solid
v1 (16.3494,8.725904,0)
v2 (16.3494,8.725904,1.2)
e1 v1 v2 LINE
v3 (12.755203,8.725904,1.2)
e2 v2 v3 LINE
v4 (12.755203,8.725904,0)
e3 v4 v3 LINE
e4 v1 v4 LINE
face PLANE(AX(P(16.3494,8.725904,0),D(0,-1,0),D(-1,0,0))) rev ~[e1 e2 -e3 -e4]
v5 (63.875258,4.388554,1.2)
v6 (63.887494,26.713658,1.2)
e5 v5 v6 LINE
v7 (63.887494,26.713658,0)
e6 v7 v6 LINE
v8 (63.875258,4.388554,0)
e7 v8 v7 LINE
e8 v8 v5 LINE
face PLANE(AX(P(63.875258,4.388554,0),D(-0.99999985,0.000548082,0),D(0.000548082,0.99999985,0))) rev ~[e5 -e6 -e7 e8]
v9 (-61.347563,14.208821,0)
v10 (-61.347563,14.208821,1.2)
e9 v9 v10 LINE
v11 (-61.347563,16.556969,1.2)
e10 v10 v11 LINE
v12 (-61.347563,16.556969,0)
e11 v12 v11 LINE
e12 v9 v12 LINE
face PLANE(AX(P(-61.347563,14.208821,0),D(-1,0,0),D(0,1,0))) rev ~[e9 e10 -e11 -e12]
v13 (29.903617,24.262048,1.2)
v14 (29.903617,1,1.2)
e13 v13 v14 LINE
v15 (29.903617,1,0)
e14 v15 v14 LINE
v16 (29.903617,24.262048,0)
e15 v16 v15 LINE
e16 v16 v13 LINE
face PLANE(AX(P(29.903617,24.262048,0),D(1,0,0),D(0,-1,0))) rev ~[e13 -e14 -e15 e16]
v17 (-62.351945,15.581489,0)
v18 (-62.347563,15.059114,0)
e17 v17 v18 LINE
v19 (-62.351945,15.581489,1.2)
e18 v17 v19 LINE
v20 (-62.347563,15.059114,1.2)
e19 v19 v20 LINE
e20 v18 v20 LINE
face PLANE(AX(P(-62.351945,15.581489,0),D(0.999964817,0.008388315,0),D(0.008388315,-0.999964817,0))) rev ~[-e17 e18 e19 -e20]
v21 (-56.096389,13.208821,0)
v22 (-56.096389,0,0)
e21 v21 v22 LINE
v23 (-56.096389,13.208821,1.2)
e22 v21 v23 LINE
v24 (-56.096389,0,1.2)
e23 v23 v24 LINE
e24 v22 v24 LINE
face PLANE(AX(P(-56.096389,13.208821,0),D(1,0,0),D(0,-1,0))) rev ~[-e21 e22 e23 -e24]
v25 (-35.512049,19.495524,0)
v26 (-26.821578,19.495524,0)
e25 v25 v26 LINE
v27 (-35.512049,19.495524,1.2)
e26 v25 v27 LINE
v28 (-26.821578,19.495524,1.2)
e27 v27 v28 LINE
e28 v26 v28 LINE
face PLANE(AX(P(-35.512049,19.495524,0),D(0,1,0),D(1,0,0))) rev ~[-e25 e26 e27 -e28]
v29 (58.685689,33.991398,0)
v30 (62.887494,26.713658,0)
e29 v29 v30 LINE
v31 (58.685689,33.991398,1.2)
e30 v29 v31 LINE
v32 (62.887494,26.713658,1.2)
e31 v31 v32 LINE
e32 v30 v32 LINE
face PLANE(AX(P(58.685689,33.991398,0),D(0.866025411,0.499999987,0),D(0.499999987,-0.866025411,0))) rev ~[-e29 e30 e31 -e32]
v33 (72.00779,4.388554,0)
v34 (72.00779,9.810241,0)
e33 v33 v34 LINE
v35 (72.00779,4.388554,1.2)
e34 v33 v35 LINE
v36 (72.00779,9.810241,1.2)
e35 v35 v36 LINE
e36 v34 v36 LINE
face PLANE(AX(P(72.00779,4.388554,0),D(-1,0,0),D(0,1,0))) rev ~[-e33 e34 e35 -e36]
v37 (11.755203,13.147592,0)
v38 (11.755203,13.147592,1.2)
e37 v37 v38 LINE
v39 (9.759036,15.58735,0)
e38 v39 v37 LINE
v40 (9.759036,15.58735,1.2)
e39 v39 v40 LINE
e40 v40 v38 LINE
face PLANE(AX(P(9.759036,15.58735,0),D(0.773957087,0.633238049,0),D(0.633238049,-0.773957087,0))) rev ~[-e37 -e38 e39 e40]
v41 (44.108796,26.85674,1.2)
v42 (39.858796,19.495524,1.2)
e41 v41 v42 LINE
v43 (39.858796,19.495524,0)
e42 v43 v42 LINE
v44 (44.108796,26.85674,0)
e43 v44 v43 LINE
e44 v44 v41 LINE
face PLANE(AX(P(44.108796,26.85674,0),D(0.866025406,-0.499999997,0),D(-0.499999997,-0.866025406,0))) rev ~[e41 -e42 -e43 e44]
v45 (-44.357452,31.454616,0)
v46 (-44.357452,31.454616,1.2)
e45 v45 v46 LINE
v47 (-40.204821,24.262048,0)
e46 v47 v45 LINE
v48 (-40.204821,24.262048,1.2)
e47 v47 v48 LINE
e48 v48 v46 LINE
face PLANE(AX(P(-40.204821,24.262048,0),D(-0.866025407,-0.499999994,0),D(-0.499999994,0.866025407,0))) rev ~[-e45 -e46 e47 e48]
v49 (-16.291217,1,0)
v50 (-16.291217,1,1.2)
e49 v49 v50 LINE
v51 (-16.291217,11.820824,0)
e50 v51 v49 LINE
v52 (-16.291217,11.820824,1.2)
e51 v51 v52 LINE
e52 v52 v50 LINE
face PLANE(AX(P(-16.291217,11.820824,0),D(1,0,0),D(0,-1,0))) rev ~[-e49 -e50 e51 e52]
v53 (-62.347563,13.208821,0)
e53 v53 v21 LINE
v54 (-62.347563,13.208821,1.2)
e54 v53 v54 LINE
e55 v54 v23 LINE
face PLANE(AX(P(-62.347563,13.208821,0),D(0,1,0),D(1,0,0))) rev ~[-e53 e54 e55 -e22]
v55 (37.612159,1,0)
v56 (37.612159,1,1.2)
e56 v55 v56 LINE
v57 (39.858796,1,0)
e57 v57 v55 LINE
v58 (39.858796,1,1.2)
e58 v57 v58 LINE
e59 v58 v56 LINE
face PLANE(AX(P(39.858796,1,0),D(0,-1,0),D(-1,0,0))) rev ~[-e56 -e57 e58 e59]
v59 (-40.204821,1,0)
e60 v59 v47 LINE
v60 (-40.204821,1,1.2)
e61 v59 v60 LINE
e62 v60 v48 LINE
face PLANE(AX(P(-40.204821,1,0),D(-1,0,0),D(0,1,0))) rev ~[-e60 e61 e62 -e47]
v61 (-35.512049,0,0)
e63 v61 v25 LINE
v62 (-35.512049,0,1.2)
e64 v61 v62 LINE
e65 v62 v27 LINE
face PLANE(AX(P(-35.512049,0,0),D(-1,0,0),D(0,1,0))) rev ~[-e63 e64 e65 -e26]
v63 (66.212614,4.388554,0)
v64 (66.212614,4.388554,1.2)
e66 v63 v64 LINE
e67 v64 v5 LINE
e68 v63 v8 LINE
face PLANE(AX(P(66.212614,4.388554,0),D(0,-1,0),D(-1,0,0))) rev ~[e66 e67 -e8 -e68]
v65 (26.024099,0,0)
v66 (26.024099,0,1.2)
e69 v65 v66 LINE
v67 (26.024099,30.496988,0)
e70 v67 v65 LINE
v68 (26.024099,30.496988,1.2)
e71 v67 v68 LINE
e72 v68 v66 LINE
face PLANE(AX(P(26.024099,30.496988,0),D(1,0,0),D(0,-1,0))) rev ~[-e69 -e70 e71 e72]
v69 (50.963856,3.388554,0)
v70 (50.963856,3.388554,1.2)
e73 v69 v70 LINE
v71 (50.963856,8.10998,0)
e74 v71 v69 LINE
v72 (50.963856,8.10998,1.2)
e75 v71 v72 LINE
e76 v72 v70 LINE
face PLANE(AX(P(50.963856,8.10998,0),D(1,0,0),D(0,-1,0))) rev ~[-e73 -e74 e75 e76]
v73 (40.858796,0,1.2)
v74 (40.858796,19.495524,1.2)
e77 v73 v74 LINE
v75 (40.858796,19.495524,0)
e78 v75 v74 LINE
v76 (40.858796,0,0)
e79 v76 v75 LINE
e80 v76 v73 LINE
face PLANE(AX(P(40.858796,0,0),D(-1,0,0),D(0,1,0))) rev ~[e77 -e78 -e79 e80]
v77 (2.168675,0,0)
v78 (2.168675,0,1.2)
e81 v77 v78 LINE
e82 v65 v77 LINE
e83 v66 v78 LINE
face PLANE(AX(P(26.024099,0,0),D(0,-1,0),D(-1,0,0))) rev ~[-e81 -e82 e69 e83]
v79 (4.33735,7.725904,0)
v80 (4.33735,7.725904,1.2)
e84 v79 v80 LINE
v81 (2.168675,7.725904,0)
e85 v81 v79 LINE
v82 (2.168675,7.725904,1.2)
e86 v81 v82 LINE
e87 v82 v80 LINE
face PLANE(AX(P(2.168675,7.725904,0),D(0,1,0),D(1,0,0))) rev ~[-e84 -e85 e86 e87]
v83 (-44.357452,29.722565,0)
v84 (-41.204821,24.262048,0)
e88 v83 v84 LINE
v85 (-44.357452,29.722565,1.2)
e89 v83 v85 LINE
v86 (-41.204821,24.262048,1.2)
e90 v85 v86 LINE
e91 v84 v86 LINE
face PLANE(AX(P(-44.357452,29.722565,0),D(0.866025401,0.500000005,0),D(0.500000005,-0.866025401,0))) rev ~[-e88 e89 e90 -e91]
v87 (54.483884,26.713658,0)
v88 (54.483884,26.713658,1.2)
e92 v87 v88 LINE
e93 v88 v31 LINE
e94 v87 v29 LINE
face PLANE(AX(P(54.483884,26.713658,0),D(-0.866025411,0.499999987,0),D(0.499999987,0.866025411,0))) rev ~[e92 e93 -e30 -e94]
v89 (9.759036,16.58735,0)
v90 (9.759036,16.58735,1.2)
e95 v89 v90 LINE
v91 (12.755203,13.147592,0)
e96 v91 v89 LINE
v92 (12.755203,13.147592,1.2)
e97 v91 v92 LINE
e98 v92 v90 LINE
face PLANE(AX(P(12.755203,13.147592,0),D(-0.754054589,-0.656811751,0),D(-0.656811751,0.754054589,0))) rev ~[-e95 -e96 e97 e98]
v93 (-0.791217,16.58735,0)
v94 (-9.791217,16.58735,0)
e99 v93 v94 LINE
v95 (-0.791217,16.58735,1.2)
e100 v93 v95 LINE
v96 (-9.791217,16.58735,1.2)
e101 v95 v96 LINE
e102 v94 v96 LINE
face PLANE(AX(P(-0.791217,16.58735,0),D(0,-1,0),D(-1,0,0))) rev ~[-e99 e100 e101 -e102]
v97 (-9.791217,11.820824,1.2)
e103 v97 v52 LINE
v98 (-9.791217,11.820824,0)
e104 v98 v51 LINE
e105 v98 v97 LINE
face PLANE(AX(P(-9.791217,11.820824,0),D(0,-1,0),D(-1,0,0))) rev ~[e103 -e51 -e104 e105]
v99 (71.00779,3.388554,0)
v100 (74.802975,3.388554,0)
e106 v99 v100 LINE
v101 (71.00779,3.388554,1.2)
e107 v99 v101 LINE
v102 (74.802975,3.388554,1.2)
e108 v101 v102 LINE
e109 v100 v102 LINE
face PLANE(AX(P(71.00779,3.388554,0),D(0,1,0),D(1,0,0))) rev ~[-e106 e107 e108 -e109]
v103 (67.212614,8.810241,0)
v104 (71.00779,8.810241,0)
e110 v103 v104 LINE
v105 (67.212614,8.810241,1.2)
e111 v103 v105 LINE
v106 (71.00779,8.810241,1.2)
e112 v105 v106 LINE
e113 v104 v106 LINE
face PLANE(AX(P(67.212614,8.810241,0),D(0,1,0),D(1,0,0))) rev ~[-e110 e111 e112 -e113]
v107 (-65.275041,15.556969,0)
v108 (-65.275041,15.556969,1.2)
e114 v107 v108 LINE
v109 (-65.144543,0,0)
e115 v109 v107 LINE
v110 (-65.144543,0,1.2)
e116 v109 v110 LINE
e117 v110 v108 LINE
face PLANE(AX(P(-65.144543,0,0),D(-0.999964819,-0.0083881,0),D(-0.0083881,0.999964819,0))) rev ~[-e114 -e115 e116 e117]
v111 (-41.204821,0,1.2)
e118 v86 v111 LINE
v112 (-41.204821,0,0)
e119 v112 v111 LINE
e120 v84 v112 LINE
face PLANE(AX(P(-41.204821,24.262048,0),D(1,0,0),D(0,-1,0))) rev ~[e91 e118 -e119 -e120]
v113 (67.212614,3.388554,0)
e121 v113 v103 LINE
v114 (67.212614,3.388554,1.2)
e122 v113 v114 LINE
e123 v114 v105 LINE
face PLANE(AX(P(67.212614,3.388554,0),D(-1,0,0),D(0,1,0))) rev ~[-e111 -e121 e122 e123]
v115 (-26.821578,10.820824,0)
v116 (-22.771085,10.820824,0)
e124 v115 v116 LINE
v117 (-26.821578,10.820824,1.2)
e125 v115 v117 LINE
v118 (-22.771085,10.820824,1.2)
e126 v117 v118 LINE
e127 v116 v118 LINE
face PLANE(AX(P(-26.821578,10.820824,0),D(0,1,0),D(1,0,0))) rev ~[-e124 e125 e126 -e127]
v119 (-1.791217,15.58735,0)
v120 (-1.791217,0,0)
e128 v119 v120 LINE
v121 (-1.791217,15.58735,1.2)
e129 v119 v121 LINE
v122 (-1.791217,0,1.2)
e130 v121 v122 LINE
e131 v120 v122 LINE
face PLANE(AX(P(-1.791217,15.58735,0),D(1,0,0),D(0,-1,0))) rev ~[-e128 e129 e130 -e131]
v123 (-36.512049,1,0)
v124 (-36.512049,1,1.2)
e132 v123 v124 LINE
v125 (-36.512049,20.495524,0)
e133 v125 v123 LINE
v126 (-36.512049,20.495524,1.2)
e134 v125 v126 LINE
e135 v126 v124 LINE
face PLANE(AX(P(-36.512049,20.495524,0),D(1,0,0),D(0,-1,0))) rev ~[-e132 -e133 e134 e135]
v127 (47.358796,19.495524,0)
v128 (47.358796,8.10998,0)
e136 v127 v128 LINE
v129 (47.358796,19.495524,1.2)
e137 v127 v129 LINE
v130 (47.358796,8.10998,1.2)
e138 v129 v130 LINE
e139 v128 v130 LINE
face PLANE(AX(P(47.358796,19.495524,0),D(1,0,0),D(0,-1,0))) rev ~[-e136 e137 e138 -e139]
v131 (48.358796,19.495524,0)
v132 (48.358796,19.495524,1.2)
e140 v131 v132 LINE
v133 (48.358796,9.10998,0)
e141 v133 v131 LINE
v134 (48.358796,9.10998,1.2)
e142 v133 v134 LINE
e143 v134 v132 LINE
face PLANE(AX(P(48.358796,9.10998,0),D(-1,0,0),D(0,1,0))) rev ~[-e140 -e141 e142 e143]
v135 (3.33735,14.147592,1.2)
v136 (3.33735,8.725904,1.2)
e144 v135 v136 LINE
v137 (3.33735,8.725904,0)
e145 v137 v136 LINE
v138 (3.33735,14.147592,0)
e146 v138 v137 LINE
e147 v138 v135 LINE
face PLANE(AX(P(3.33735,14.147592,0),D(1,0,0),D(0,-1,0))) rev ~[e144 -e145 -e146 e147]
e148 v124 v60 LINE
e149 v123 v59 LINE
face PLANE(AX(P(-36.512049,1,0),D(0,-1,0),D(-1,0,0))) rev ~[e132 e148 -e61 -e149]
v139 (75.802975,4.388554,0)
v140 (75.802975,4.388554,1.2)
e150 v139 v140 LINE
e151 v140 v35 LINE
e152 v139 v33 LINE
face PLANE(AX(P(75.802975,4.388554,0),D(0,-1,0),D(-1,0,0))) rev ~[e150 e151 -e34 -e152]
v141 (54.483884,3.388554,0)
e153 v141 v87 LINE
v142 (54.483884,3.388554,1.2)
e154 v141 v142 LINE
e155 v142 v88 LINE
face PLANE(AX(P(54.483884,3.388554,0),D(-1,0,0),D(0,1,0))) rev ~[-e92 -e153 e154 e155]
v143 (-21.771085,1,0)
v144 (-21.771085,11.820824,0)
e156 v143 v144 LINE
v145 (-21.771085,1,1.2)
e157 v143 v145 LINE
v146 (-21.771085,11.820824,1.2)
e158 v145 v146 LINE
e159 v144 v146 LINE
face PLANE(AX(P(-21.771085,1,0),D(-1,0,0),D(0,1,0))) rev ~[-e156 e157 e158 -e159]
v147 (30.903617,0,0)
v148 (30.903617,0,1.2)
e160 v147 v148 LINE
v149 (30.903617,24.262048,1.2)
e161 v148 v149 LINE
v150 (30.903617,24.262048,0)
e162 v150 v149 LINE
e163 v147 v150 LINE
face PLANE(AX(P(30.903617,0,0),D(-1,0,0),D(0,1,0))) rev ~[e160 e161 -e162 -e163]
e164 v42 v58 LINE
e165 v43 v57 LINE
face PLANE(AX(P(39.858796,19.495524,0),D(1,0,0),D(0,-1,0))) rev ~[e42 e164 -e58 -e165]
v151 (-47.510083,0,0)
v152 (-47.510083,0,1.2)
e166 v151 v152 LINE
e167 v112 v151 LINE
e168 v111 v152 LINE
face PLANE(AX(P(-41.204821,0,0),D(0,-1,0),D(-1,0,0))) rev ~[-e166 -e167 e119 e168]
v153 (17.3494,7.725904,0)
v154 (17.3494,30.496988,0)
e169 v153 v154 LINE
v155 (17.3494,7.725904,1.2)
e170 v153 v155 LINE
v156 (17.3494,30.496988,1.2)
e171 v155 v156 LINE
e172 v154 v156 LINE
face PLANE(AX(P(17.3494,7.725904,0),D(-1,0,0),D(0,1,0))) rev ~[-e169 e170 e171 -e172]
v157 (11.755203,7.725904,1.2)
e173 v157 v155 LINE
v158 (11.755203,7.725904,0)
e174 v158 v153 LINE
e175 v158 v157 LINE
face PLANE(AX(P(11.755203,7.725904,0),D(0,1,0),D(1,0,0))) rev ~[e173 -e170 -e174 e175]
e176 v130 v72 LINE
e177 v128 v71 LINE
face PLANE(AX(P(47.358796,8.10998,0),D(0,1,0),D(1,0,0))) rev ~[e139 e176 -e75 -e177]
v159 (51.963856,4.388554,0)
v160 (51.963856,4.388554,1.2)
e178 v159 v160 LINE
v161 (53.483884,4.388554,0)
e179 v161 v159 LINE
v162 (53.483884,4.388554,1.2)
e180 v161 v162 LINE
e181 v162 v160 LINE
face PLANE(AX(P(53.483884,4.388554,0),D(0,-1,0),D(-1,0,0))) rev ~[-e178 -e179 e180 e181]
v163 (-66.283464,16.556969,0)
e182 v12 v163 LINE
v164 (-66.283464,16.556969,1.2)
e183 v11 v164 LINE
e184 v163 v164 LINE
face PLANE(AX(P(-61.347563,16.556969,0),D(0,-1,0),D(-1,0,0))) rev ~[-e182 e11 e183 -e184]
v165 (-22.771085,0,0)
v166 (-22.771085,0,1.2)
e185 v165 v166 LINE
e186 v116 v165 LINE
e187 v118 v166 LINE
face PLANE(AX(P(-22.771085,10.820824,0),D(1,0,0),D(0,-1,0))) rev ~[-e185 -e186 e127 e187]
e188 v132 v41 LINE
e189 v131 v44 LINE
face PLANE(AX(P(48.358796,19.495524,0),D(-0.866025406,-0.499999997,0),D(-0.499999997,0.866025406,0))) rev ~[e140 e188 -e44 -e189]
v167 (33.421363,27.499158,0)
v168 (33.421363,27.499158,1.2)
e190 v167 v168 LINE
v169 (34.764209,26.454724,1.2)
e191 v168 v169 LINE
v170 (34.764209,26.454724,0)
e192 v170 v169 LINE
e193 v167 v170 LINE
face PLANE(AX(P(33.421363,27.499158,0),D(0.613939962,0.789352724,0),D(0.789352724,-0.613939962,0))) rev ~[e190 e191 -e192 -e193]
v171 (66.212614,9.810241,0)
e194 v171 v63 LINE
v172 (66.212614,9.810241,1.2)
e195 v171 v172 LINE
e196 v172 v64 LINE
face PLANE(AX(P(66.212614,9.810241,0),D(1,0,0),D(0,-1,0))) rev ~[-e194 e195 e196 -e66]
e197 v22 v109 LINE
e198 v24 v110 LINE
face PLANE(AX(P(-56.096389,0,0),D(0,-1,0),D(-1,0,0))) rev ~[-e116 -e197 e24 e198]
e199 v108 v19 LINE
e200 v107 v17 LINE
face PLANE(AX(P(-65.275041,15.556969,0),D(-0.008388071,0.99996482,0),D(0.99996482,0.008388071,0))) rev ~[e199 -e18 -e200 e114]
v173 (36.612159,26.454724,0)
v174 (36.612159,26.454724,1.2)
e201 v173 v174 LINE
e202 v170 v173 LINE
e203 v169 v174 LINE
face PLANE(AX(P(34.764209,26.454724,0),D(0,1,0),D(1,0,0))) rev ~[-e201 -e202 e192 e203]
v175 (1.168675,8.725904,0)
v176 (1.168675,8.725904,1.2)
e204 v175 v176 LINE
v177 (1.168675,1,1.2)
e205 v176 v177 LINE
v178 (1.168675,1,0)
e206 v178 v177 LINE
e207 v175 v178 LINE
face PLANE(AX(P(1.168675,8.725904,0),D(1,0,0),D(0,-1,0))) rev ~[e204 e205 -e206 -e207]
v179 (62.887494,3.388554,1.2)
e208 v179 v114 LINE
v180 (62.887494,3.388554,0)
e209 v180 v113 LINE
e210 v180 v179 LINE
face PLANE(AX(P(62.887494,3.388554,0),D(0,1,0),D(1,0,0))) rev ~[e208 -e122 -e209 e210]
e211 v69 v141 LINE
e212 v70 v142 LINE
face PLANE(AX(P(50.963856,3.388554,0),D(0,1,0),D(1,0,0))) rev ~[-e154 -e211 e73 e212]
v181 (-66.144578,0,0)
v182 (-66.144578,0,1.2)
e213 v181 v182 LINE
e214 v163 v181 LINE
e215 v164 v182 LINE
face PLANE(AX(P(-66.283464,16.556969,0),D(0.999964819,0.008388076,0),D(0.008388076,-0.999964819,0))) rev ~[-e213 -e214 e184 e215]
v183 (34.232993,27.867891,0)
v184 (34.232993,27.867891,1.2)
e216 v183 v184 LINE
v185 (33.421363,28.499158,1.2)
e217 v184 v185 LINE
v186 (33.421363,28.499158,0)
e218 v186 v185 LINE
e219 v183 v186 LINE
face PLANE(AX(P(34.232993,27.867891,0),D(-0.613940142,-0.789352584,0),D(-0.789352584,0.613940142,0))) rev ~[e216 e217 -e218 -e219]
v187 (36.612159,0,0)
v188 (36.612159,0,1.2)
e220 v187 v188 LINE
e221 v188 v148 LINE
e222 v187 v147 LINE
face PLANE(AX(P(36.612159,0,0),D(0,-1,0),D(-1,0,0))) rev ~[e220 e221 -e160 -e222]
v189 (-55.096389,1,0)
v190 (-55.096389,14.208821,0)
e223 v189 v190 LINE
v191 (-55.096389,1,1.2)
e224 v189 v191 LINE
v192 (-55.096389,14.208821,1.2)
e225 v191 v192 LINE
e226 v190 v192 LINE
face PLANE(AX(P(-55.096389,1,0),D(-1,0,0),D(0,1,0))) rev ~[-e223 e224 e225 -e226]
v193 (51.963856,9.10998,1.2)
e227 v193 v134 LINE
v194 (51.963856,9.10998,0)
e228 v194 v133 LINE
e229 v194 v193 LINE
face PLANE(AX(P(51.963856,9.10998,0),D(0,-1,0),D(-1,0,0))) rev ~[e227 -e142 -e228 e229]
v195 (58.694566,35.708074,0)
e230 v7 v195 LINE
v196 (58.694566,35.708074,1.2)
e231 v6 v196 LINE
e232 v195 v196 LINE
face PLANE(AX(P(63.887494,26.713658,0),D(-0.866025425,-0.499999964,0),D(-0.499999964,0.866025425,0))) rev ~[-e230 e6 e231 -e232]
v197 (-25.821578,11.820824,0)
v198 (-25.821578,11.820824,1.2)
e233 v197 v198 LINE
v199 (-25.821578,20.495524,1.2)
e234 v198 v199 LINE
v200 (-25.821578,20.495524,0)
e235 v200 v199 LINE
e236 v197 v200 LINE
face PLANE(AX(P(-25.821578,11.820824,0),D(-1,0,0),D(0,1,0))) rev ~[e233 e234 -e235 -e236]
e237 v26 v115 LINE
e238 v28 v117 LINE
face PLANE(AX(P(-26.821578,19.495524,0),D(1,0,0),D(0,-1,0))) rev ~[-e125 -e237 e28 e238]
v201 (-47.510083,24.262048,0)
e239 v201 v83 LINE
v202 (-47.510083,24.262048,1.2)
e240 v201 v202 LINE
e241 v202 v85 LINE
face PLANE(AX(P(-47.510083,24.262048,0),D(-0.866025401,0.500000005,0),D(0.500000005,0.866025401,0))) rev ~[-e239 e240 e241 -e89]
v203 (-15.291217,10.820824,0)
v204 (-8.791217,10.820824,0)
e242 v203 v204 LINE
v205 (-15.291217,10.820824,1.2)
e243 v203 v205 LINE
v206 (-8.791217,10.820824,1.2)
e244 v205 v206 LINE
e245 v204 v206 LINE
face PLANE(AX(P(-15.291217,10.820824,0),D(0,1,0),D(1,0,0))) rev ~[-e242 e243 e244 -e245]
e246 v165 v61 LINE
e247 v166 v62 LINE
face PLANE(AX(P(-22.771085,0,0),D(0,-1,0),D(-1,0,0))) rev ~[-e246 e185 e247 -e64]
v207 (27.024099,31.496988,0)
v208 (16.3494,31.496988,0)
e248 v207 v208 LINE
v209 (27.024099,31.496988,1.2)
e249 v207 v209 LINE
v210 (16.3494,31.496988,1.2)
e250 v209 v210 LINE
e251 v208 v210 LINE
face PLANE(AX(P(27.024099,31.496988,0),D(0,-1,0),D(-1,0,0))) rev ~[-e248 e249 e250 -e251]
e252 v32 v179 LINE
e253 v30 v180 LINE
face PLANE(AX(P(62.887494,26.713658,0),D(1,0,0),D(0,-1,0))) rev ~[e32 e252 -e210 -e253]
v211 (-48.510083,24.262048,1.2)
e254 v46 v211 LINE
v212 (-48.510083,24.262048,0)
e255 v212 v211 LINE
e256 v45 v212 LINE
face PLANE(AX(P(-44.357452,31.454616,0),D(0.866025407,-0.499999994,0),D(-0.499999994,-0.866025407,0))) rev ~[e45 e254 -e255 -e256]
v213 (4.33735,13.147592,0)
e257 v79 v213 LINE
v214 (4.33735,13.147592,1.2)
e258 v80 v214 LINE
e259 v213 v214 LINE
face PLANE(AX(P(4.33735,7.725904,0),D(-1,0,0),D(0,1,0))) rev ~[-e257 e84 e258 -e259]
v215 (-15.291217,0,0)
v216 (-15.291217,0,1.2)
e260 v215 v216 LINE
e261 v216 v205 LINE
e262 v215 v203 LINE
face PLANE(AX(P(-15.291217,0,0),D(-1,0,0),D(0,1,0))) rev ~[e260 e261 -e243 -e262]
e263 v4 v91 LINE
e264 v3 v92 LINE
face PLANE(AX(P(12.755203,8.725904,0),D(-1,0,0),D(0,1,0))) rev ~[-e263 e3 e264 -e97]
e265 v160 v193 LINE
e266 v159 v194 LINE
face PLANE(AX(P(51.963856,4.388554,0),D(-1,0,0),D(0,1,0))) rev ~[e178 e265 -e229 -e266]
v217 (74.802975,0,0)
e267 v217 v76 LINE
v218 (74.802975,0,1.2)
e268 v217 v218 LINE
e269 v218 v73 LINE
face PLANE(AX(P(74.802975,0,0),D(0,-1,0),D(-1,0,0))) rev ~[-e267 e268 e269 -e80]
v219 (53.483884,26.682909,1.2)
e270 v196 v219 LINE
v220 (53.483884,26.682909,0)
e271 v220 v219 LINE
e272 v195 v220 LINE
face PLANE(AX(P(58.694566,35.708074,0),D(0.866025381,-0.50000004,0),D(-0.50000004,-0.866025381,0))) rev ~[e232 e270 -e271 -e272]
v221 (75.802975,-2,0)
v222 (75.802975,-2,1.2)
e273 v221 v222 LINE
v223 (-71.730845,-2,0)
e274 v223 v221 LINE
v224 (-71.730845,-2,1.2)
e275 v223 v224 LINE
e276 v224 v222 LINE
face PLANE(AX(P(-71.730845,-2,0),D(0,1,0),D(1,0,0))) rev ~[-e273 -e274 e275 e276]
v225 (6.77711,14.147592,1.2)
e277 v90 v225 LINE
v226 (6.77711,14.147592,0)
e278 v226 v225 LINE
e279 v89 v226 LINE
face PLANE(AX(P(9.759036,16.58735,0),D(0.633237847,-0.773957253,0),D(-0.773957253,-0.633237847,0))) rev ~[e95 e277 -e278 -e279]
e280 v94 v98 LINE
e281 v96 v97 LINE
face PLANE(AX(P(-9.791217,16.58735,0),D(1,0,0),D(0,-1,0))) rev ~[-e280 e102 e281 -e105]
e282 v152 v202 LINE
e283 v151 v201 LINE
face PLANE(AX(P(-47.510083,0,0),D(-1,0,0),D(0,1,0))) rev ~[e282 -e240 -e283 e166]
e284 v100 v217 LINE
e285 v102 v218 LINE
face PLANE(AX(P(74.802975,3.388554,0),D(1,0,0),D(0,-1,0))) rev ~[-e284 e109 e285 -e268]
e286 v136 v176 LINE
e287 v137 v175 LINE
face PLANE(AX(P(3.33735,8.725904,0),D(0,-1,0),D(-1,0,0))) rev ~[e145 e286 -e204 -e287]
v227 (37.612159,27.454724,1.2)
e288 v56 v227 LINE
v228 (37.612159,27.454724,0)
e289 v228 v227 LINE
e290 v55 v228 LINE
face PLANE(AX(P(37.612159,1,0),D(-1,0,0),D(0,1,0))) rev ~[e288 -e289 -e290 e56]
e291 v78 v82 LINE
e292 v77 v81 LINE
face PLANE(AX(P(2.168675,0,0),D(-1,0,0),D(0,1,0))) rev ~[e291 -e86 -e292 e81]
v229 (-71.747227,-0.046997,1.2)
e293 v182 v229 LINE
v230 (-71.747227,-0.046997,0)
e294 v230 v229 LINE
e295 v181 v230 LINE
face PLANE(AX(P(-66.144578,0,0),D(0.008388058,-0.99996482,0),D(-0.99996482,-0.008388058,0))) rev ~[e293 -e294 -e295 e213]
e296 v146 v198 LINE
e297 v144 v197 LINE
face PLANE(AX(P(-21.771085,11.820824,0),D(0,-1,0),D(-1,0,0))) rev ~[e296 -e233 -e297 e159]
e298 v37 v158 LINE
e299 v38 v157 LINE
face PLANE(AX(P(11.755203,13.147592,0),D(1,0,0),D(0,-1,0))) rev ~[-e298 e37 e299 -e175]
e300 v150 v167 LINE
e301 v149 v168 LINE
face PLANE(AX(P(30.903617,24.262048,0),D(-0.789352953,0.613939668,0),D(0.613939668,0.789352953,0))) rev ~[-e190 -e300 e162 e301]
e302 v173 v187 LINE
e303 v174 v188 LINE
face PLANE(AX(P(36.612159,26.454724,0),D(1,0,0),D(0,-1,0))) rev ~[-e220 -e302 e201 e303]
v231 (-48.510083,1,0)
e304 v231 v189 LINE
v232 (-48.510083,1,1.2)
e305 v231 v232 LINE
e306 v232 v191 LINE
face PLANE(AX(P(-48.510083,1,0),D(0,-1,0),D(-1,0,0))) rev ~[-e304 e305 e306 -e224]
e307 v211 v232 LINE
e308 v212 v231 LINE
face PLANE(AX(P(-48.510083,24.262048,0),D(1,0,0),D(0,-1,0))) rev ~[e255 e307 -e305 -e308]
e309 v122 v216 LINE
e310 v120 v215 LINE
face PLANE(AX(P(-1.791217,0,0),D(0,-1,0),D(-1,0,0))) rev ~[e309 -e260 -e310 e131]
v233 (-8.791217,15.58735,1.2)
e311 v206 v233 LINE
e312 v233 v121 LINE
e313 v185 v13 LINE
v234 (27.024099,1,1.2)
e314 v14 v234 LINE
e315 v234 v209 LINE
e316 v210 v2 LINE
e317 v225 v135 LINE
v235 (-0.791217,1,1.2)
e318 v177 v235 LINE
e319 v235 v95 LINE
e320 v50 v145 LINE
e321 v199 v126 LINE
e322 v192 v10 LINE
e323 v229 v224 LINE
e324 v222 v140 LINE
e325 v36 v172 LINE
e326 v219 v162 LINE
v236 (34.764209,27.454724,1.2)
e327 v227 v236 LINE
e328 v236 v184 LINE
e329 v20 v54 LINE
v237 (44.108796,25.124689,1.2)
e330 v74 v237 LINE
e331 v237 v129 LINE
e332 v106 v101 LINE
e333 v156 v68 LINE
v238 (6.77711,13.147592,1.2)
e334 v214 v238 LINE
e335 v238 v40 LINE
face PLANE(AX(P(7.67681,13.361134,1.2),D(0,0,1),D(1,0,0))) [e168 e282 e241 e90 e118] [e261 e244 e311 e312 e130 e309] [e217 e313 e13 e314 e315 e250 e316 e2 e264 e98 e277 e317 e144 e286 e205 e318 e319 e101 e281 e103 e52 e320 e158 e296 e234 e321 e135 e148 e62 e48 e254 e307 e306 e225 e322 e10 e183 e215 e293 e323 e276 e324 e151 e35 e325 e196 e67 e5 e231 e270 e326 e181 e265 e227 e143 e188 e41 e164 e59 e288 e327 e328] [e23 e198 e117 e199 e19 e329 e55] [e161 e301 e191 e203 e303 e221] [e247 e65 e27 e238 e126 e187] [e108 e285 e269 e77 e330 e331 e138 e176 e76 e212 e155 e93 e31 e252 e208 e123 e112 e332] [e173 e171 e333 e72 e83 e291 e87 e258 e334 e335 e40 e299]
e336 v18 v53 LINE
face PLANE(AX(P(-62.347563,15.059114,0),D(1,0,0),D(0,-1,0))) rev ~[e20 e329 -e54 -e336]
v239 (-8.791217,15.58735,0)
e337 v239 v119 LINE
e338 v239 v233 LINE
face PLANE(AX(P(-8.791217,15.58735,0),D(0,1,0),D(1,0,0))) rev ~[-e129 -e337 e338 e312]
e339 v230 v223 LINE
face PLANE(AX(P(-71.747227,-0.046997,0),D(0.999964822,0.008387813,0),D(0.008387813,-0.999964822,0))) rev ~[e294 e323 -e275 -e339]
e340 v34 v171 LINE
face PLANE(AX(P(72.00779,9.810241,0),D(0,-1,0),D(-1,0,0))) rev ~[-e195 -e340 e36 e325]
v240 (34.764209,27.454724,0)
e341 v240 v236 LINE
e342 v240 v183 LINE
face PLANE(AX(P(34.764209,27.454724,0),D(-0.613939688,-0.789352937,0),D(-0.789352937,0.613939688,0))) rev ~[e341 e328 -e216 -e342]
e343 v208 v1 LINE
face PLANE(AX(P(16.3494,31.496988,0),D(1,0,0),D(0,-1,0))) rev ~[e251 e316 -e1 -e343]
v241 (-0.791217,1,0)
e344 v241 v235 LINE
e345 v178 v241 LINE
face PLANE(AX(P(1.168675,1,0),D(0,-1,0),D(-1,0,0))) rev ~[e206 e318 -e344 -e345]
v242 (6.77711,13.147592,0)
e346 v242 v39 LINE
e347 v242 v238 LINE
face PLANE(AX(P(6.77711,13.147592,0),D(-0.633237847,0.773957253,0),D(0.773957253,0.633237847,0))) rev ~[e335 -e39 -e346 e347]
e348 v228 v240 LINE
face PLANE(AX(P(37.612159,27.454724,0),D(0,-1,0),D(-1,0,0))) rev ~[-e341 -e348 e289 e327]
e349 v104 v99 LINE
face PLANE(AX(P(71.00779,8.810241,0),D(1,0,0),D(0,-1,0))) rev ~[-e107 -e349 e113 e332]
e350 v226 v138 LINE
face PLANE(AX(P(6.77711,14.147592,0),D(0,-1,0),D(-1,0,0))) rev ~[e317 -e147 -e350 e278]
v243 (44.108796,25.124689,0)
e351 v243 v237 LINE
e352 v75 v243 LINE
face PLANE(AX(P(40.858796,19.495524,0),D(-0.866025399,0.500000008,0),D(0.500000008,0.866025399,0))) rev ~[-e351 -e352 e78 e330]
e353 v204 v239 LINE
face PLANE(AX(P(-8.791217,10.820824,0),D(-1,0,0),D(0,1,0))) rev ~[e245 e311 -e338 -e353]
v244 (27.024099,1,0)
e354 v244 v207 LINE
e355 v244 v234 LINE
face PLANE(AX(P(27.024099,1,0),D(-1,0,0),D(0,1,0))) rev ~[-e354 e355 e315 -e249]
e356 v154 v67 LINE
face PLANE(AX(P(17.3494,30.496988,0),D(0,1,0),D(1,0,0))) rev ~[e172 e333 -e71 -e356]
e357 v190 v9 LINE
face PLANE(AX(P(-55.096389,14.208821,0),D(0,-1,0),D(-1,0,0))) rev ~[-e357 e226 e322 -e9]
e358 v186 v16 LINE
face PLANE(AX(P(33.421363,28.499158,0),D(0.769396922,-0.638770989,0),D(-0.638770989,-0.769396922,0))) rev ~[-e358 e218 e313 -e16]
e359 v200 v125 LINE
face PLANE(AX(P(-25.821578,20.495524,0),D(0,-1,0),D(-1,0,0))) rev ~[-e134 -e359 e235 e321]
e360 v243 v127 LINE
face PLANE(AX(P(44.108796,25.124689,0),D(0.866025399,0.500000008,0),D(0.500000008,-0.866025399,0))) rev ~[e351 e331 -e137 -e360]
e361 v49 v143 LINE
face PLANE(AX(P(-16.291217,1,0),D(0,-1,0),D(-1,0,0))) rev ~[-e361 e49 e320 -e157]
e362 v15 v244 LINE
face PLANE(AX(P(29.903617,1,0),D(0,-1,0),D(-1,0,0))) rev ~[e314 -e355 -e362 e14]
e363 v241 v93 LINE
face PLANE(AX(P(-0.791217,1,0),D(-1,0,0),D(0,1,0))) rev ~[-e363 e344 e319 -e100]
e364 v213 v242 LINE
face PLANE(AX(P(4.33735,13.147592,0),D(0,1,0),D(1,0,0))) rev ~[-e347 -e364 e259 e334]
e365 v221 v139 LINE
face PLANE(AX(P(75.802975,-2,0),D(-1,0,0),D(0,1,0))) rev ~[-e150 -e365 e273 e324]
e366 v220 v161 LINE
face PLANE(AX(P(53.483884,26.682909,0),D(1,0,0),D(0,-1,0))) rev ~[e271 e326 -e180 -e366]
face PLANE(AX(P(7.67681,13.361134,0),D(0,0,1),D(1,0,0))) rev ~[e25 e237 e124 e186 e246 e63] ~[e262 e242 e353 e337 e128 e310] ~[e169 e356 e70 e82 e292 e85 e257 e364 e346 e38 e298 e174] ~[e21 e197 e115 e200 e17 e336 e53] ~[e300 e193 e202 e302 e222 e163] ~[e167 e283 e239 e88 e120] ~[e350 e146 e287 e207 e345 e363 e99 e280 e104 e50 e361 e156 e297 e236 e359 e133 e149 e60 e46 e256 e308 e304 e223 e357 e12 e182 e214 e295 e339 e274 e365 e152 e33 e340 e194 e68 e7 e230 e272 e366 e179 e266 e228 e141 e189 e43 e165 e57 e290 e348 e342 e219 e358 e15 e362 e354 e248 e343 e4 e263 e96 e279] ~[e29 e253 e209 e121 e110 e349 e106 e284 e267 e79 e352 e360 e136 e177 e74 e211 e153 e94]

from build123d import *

# Parameters (mm, degrees)
F1_DEPTH = 1.2


with BuildPart() as f1:
    # F0 (on Top) → F1 (new body)
    with BuildSketch(Plane.XY):
        Polygon((-8.791217, 10.820824), (-8.791217, 15.58735), (-1.791217, 15.58735), (-1.791217, 0), (0, 0), (2.168675, 0), (2.168675, 7.725904), (4.33735, 7.725904), (4.33735, 13.147592), (6.77711, 13.147592), (9.759036, 15.58735), (11.755203, 13.147592), (11.755203, 7.725904), (17.3494, 7.725904), (17.3494, 30.496988), (26.024099, 30.496988), (26.024099, 7.725904), (26.024099, 0), (30.903617, 0), (30.903617, 19.495524), (30.903617, 24.262048), (33.421363, 27.499158), (34.764209, 26.454724), (36.612159, 26.454724), (36.612159, 24.262048), (36.612159, 0), (40.858796, 0), (40.858796, 19.495524), (44.108796, 25.124689), (47.358796, 19.495524), (47.358796, 8.10998), (50.963856, 8.10998), (50.963856, 3.388554), (54.483884, 3.388554), (54.483884, 26.713658), (58.685689, 33.991398), (62.887494, 26.713658), (62.887494, 3.388554), (67.212614, 3.388554), (67.212614, 8.810241), (71.00779, 8.810241), (71.00779, 3.388554), (74.802975, 3.388554), (74.802975, 0), (75.802975, 0), (75.802975, 4.388554), (74.802975, 4.388554), (72.00779, 4.388554), (72.00779, 9.810241), (68.572836, 9.810241), (66.212614, 9.810241), (66.212614, 6.689354), (66.212614, 4.388554), (64.699309, 4.388554), (63.875258, 4.388554), (63.887494, 26.713658), (58.694566, 35.708074), (53.483884, 26.682909), (53.483884, 4.388554), (51.963856, 4.388554), (51.963856, 9.10998), (48.358796, 9.10998), (48.358796, 19.495524), (44.108796, 26.85674), (39.858796, 19.495524), (39.858796, 1), (37.612159, 1), (37.612159, 27.454724), (34.764209, 27.454724), (34.232993, 27.867891), (33.421363, 28.499158), (29.903617, 24.262048), (29.903617, 1), (27.024099, 1), (27.024099, 31.496988), (16.3494, 31.496988), (16.3494, 8.725904), (12.755203, 8.725904), (12.755203, 13.147592), (9.759036, 16.58735), (6.77711, 14.147592), (4.33735, 14.147592), (3.33735, 14.147592), (3.33735, 8.725904), (1.168675, 8.725904), (1.168675, 1), (-0.791217, 1), (-0.791217, 16.58735), (-9.791217, 16.58735), (-9.791217, 11.820824), (-16.291217, 11.820824), (-16.291217, 1), (-21.771085, 1), (-21.771085, 11.820824), (-25.821578, 11.820824), (-25.821578, 20.495524), (-30.47494, 20.495524), (-36.512049, 20.495524), (-36.512049, 1), (-40.204821, 1), (-40.204821, 24.262048), (-44.357452, 31.454616), (-48.510083, 24.262048), (-48.510083, 1), (-55.096389, 1), (-55.096389, 14.208821), (-61.347563, 14.208821), (-61.347563, 16.556969), (-66.283464, 16.556969), (-66.144578, 0), (-65.144543, 0), (-65.275041, 15.556969), (-62.351945, 15.581489), (-62.347563, 15.059114), (-62.347563, 13.208821), (-56.096389, 13.208821), (-56.096389, 0), (-51.847431, 0), (-47.510083, 0), (-47.510083, 24.262048), (-44.357452, 29.722565), (-41.204821, 24.262048), (-41.204821, 0), (-35.512049, 0), (-35.512049, 19.495524), (-26.821578, 19.495524), (-26.821578, 10.820824), (-22.771085, 10.820824), (-22.771085, 0), (-17.891567, 0), (-15.291217, 0), (-15.291217, 1), (-15.291217, 10.820824), align=None)
        Polygon((0, 0), (-1.791217, 0), (-15.291217, 0), (-17.891567, 0), (-22.771085, 0), (-35.512049, 0), (-41.204821, 0), (-47.510083, 0), (-51.847431, 0), (-56.096389, 0), (-65.144543, 0), (-66.144578, 0), (-71.747227, -0.046997), (-71.730845, -2), (74.802975, -2), (75.802975, -2), (75.802975, 0), (74.802975, 0), (40.858796, 0), (36.612159, 0), (30.903617, 0), (26.024099, 0), (2.168675, 0), align=None)
    extrude(amount=F1_DEPTH)


solid = f1.part
